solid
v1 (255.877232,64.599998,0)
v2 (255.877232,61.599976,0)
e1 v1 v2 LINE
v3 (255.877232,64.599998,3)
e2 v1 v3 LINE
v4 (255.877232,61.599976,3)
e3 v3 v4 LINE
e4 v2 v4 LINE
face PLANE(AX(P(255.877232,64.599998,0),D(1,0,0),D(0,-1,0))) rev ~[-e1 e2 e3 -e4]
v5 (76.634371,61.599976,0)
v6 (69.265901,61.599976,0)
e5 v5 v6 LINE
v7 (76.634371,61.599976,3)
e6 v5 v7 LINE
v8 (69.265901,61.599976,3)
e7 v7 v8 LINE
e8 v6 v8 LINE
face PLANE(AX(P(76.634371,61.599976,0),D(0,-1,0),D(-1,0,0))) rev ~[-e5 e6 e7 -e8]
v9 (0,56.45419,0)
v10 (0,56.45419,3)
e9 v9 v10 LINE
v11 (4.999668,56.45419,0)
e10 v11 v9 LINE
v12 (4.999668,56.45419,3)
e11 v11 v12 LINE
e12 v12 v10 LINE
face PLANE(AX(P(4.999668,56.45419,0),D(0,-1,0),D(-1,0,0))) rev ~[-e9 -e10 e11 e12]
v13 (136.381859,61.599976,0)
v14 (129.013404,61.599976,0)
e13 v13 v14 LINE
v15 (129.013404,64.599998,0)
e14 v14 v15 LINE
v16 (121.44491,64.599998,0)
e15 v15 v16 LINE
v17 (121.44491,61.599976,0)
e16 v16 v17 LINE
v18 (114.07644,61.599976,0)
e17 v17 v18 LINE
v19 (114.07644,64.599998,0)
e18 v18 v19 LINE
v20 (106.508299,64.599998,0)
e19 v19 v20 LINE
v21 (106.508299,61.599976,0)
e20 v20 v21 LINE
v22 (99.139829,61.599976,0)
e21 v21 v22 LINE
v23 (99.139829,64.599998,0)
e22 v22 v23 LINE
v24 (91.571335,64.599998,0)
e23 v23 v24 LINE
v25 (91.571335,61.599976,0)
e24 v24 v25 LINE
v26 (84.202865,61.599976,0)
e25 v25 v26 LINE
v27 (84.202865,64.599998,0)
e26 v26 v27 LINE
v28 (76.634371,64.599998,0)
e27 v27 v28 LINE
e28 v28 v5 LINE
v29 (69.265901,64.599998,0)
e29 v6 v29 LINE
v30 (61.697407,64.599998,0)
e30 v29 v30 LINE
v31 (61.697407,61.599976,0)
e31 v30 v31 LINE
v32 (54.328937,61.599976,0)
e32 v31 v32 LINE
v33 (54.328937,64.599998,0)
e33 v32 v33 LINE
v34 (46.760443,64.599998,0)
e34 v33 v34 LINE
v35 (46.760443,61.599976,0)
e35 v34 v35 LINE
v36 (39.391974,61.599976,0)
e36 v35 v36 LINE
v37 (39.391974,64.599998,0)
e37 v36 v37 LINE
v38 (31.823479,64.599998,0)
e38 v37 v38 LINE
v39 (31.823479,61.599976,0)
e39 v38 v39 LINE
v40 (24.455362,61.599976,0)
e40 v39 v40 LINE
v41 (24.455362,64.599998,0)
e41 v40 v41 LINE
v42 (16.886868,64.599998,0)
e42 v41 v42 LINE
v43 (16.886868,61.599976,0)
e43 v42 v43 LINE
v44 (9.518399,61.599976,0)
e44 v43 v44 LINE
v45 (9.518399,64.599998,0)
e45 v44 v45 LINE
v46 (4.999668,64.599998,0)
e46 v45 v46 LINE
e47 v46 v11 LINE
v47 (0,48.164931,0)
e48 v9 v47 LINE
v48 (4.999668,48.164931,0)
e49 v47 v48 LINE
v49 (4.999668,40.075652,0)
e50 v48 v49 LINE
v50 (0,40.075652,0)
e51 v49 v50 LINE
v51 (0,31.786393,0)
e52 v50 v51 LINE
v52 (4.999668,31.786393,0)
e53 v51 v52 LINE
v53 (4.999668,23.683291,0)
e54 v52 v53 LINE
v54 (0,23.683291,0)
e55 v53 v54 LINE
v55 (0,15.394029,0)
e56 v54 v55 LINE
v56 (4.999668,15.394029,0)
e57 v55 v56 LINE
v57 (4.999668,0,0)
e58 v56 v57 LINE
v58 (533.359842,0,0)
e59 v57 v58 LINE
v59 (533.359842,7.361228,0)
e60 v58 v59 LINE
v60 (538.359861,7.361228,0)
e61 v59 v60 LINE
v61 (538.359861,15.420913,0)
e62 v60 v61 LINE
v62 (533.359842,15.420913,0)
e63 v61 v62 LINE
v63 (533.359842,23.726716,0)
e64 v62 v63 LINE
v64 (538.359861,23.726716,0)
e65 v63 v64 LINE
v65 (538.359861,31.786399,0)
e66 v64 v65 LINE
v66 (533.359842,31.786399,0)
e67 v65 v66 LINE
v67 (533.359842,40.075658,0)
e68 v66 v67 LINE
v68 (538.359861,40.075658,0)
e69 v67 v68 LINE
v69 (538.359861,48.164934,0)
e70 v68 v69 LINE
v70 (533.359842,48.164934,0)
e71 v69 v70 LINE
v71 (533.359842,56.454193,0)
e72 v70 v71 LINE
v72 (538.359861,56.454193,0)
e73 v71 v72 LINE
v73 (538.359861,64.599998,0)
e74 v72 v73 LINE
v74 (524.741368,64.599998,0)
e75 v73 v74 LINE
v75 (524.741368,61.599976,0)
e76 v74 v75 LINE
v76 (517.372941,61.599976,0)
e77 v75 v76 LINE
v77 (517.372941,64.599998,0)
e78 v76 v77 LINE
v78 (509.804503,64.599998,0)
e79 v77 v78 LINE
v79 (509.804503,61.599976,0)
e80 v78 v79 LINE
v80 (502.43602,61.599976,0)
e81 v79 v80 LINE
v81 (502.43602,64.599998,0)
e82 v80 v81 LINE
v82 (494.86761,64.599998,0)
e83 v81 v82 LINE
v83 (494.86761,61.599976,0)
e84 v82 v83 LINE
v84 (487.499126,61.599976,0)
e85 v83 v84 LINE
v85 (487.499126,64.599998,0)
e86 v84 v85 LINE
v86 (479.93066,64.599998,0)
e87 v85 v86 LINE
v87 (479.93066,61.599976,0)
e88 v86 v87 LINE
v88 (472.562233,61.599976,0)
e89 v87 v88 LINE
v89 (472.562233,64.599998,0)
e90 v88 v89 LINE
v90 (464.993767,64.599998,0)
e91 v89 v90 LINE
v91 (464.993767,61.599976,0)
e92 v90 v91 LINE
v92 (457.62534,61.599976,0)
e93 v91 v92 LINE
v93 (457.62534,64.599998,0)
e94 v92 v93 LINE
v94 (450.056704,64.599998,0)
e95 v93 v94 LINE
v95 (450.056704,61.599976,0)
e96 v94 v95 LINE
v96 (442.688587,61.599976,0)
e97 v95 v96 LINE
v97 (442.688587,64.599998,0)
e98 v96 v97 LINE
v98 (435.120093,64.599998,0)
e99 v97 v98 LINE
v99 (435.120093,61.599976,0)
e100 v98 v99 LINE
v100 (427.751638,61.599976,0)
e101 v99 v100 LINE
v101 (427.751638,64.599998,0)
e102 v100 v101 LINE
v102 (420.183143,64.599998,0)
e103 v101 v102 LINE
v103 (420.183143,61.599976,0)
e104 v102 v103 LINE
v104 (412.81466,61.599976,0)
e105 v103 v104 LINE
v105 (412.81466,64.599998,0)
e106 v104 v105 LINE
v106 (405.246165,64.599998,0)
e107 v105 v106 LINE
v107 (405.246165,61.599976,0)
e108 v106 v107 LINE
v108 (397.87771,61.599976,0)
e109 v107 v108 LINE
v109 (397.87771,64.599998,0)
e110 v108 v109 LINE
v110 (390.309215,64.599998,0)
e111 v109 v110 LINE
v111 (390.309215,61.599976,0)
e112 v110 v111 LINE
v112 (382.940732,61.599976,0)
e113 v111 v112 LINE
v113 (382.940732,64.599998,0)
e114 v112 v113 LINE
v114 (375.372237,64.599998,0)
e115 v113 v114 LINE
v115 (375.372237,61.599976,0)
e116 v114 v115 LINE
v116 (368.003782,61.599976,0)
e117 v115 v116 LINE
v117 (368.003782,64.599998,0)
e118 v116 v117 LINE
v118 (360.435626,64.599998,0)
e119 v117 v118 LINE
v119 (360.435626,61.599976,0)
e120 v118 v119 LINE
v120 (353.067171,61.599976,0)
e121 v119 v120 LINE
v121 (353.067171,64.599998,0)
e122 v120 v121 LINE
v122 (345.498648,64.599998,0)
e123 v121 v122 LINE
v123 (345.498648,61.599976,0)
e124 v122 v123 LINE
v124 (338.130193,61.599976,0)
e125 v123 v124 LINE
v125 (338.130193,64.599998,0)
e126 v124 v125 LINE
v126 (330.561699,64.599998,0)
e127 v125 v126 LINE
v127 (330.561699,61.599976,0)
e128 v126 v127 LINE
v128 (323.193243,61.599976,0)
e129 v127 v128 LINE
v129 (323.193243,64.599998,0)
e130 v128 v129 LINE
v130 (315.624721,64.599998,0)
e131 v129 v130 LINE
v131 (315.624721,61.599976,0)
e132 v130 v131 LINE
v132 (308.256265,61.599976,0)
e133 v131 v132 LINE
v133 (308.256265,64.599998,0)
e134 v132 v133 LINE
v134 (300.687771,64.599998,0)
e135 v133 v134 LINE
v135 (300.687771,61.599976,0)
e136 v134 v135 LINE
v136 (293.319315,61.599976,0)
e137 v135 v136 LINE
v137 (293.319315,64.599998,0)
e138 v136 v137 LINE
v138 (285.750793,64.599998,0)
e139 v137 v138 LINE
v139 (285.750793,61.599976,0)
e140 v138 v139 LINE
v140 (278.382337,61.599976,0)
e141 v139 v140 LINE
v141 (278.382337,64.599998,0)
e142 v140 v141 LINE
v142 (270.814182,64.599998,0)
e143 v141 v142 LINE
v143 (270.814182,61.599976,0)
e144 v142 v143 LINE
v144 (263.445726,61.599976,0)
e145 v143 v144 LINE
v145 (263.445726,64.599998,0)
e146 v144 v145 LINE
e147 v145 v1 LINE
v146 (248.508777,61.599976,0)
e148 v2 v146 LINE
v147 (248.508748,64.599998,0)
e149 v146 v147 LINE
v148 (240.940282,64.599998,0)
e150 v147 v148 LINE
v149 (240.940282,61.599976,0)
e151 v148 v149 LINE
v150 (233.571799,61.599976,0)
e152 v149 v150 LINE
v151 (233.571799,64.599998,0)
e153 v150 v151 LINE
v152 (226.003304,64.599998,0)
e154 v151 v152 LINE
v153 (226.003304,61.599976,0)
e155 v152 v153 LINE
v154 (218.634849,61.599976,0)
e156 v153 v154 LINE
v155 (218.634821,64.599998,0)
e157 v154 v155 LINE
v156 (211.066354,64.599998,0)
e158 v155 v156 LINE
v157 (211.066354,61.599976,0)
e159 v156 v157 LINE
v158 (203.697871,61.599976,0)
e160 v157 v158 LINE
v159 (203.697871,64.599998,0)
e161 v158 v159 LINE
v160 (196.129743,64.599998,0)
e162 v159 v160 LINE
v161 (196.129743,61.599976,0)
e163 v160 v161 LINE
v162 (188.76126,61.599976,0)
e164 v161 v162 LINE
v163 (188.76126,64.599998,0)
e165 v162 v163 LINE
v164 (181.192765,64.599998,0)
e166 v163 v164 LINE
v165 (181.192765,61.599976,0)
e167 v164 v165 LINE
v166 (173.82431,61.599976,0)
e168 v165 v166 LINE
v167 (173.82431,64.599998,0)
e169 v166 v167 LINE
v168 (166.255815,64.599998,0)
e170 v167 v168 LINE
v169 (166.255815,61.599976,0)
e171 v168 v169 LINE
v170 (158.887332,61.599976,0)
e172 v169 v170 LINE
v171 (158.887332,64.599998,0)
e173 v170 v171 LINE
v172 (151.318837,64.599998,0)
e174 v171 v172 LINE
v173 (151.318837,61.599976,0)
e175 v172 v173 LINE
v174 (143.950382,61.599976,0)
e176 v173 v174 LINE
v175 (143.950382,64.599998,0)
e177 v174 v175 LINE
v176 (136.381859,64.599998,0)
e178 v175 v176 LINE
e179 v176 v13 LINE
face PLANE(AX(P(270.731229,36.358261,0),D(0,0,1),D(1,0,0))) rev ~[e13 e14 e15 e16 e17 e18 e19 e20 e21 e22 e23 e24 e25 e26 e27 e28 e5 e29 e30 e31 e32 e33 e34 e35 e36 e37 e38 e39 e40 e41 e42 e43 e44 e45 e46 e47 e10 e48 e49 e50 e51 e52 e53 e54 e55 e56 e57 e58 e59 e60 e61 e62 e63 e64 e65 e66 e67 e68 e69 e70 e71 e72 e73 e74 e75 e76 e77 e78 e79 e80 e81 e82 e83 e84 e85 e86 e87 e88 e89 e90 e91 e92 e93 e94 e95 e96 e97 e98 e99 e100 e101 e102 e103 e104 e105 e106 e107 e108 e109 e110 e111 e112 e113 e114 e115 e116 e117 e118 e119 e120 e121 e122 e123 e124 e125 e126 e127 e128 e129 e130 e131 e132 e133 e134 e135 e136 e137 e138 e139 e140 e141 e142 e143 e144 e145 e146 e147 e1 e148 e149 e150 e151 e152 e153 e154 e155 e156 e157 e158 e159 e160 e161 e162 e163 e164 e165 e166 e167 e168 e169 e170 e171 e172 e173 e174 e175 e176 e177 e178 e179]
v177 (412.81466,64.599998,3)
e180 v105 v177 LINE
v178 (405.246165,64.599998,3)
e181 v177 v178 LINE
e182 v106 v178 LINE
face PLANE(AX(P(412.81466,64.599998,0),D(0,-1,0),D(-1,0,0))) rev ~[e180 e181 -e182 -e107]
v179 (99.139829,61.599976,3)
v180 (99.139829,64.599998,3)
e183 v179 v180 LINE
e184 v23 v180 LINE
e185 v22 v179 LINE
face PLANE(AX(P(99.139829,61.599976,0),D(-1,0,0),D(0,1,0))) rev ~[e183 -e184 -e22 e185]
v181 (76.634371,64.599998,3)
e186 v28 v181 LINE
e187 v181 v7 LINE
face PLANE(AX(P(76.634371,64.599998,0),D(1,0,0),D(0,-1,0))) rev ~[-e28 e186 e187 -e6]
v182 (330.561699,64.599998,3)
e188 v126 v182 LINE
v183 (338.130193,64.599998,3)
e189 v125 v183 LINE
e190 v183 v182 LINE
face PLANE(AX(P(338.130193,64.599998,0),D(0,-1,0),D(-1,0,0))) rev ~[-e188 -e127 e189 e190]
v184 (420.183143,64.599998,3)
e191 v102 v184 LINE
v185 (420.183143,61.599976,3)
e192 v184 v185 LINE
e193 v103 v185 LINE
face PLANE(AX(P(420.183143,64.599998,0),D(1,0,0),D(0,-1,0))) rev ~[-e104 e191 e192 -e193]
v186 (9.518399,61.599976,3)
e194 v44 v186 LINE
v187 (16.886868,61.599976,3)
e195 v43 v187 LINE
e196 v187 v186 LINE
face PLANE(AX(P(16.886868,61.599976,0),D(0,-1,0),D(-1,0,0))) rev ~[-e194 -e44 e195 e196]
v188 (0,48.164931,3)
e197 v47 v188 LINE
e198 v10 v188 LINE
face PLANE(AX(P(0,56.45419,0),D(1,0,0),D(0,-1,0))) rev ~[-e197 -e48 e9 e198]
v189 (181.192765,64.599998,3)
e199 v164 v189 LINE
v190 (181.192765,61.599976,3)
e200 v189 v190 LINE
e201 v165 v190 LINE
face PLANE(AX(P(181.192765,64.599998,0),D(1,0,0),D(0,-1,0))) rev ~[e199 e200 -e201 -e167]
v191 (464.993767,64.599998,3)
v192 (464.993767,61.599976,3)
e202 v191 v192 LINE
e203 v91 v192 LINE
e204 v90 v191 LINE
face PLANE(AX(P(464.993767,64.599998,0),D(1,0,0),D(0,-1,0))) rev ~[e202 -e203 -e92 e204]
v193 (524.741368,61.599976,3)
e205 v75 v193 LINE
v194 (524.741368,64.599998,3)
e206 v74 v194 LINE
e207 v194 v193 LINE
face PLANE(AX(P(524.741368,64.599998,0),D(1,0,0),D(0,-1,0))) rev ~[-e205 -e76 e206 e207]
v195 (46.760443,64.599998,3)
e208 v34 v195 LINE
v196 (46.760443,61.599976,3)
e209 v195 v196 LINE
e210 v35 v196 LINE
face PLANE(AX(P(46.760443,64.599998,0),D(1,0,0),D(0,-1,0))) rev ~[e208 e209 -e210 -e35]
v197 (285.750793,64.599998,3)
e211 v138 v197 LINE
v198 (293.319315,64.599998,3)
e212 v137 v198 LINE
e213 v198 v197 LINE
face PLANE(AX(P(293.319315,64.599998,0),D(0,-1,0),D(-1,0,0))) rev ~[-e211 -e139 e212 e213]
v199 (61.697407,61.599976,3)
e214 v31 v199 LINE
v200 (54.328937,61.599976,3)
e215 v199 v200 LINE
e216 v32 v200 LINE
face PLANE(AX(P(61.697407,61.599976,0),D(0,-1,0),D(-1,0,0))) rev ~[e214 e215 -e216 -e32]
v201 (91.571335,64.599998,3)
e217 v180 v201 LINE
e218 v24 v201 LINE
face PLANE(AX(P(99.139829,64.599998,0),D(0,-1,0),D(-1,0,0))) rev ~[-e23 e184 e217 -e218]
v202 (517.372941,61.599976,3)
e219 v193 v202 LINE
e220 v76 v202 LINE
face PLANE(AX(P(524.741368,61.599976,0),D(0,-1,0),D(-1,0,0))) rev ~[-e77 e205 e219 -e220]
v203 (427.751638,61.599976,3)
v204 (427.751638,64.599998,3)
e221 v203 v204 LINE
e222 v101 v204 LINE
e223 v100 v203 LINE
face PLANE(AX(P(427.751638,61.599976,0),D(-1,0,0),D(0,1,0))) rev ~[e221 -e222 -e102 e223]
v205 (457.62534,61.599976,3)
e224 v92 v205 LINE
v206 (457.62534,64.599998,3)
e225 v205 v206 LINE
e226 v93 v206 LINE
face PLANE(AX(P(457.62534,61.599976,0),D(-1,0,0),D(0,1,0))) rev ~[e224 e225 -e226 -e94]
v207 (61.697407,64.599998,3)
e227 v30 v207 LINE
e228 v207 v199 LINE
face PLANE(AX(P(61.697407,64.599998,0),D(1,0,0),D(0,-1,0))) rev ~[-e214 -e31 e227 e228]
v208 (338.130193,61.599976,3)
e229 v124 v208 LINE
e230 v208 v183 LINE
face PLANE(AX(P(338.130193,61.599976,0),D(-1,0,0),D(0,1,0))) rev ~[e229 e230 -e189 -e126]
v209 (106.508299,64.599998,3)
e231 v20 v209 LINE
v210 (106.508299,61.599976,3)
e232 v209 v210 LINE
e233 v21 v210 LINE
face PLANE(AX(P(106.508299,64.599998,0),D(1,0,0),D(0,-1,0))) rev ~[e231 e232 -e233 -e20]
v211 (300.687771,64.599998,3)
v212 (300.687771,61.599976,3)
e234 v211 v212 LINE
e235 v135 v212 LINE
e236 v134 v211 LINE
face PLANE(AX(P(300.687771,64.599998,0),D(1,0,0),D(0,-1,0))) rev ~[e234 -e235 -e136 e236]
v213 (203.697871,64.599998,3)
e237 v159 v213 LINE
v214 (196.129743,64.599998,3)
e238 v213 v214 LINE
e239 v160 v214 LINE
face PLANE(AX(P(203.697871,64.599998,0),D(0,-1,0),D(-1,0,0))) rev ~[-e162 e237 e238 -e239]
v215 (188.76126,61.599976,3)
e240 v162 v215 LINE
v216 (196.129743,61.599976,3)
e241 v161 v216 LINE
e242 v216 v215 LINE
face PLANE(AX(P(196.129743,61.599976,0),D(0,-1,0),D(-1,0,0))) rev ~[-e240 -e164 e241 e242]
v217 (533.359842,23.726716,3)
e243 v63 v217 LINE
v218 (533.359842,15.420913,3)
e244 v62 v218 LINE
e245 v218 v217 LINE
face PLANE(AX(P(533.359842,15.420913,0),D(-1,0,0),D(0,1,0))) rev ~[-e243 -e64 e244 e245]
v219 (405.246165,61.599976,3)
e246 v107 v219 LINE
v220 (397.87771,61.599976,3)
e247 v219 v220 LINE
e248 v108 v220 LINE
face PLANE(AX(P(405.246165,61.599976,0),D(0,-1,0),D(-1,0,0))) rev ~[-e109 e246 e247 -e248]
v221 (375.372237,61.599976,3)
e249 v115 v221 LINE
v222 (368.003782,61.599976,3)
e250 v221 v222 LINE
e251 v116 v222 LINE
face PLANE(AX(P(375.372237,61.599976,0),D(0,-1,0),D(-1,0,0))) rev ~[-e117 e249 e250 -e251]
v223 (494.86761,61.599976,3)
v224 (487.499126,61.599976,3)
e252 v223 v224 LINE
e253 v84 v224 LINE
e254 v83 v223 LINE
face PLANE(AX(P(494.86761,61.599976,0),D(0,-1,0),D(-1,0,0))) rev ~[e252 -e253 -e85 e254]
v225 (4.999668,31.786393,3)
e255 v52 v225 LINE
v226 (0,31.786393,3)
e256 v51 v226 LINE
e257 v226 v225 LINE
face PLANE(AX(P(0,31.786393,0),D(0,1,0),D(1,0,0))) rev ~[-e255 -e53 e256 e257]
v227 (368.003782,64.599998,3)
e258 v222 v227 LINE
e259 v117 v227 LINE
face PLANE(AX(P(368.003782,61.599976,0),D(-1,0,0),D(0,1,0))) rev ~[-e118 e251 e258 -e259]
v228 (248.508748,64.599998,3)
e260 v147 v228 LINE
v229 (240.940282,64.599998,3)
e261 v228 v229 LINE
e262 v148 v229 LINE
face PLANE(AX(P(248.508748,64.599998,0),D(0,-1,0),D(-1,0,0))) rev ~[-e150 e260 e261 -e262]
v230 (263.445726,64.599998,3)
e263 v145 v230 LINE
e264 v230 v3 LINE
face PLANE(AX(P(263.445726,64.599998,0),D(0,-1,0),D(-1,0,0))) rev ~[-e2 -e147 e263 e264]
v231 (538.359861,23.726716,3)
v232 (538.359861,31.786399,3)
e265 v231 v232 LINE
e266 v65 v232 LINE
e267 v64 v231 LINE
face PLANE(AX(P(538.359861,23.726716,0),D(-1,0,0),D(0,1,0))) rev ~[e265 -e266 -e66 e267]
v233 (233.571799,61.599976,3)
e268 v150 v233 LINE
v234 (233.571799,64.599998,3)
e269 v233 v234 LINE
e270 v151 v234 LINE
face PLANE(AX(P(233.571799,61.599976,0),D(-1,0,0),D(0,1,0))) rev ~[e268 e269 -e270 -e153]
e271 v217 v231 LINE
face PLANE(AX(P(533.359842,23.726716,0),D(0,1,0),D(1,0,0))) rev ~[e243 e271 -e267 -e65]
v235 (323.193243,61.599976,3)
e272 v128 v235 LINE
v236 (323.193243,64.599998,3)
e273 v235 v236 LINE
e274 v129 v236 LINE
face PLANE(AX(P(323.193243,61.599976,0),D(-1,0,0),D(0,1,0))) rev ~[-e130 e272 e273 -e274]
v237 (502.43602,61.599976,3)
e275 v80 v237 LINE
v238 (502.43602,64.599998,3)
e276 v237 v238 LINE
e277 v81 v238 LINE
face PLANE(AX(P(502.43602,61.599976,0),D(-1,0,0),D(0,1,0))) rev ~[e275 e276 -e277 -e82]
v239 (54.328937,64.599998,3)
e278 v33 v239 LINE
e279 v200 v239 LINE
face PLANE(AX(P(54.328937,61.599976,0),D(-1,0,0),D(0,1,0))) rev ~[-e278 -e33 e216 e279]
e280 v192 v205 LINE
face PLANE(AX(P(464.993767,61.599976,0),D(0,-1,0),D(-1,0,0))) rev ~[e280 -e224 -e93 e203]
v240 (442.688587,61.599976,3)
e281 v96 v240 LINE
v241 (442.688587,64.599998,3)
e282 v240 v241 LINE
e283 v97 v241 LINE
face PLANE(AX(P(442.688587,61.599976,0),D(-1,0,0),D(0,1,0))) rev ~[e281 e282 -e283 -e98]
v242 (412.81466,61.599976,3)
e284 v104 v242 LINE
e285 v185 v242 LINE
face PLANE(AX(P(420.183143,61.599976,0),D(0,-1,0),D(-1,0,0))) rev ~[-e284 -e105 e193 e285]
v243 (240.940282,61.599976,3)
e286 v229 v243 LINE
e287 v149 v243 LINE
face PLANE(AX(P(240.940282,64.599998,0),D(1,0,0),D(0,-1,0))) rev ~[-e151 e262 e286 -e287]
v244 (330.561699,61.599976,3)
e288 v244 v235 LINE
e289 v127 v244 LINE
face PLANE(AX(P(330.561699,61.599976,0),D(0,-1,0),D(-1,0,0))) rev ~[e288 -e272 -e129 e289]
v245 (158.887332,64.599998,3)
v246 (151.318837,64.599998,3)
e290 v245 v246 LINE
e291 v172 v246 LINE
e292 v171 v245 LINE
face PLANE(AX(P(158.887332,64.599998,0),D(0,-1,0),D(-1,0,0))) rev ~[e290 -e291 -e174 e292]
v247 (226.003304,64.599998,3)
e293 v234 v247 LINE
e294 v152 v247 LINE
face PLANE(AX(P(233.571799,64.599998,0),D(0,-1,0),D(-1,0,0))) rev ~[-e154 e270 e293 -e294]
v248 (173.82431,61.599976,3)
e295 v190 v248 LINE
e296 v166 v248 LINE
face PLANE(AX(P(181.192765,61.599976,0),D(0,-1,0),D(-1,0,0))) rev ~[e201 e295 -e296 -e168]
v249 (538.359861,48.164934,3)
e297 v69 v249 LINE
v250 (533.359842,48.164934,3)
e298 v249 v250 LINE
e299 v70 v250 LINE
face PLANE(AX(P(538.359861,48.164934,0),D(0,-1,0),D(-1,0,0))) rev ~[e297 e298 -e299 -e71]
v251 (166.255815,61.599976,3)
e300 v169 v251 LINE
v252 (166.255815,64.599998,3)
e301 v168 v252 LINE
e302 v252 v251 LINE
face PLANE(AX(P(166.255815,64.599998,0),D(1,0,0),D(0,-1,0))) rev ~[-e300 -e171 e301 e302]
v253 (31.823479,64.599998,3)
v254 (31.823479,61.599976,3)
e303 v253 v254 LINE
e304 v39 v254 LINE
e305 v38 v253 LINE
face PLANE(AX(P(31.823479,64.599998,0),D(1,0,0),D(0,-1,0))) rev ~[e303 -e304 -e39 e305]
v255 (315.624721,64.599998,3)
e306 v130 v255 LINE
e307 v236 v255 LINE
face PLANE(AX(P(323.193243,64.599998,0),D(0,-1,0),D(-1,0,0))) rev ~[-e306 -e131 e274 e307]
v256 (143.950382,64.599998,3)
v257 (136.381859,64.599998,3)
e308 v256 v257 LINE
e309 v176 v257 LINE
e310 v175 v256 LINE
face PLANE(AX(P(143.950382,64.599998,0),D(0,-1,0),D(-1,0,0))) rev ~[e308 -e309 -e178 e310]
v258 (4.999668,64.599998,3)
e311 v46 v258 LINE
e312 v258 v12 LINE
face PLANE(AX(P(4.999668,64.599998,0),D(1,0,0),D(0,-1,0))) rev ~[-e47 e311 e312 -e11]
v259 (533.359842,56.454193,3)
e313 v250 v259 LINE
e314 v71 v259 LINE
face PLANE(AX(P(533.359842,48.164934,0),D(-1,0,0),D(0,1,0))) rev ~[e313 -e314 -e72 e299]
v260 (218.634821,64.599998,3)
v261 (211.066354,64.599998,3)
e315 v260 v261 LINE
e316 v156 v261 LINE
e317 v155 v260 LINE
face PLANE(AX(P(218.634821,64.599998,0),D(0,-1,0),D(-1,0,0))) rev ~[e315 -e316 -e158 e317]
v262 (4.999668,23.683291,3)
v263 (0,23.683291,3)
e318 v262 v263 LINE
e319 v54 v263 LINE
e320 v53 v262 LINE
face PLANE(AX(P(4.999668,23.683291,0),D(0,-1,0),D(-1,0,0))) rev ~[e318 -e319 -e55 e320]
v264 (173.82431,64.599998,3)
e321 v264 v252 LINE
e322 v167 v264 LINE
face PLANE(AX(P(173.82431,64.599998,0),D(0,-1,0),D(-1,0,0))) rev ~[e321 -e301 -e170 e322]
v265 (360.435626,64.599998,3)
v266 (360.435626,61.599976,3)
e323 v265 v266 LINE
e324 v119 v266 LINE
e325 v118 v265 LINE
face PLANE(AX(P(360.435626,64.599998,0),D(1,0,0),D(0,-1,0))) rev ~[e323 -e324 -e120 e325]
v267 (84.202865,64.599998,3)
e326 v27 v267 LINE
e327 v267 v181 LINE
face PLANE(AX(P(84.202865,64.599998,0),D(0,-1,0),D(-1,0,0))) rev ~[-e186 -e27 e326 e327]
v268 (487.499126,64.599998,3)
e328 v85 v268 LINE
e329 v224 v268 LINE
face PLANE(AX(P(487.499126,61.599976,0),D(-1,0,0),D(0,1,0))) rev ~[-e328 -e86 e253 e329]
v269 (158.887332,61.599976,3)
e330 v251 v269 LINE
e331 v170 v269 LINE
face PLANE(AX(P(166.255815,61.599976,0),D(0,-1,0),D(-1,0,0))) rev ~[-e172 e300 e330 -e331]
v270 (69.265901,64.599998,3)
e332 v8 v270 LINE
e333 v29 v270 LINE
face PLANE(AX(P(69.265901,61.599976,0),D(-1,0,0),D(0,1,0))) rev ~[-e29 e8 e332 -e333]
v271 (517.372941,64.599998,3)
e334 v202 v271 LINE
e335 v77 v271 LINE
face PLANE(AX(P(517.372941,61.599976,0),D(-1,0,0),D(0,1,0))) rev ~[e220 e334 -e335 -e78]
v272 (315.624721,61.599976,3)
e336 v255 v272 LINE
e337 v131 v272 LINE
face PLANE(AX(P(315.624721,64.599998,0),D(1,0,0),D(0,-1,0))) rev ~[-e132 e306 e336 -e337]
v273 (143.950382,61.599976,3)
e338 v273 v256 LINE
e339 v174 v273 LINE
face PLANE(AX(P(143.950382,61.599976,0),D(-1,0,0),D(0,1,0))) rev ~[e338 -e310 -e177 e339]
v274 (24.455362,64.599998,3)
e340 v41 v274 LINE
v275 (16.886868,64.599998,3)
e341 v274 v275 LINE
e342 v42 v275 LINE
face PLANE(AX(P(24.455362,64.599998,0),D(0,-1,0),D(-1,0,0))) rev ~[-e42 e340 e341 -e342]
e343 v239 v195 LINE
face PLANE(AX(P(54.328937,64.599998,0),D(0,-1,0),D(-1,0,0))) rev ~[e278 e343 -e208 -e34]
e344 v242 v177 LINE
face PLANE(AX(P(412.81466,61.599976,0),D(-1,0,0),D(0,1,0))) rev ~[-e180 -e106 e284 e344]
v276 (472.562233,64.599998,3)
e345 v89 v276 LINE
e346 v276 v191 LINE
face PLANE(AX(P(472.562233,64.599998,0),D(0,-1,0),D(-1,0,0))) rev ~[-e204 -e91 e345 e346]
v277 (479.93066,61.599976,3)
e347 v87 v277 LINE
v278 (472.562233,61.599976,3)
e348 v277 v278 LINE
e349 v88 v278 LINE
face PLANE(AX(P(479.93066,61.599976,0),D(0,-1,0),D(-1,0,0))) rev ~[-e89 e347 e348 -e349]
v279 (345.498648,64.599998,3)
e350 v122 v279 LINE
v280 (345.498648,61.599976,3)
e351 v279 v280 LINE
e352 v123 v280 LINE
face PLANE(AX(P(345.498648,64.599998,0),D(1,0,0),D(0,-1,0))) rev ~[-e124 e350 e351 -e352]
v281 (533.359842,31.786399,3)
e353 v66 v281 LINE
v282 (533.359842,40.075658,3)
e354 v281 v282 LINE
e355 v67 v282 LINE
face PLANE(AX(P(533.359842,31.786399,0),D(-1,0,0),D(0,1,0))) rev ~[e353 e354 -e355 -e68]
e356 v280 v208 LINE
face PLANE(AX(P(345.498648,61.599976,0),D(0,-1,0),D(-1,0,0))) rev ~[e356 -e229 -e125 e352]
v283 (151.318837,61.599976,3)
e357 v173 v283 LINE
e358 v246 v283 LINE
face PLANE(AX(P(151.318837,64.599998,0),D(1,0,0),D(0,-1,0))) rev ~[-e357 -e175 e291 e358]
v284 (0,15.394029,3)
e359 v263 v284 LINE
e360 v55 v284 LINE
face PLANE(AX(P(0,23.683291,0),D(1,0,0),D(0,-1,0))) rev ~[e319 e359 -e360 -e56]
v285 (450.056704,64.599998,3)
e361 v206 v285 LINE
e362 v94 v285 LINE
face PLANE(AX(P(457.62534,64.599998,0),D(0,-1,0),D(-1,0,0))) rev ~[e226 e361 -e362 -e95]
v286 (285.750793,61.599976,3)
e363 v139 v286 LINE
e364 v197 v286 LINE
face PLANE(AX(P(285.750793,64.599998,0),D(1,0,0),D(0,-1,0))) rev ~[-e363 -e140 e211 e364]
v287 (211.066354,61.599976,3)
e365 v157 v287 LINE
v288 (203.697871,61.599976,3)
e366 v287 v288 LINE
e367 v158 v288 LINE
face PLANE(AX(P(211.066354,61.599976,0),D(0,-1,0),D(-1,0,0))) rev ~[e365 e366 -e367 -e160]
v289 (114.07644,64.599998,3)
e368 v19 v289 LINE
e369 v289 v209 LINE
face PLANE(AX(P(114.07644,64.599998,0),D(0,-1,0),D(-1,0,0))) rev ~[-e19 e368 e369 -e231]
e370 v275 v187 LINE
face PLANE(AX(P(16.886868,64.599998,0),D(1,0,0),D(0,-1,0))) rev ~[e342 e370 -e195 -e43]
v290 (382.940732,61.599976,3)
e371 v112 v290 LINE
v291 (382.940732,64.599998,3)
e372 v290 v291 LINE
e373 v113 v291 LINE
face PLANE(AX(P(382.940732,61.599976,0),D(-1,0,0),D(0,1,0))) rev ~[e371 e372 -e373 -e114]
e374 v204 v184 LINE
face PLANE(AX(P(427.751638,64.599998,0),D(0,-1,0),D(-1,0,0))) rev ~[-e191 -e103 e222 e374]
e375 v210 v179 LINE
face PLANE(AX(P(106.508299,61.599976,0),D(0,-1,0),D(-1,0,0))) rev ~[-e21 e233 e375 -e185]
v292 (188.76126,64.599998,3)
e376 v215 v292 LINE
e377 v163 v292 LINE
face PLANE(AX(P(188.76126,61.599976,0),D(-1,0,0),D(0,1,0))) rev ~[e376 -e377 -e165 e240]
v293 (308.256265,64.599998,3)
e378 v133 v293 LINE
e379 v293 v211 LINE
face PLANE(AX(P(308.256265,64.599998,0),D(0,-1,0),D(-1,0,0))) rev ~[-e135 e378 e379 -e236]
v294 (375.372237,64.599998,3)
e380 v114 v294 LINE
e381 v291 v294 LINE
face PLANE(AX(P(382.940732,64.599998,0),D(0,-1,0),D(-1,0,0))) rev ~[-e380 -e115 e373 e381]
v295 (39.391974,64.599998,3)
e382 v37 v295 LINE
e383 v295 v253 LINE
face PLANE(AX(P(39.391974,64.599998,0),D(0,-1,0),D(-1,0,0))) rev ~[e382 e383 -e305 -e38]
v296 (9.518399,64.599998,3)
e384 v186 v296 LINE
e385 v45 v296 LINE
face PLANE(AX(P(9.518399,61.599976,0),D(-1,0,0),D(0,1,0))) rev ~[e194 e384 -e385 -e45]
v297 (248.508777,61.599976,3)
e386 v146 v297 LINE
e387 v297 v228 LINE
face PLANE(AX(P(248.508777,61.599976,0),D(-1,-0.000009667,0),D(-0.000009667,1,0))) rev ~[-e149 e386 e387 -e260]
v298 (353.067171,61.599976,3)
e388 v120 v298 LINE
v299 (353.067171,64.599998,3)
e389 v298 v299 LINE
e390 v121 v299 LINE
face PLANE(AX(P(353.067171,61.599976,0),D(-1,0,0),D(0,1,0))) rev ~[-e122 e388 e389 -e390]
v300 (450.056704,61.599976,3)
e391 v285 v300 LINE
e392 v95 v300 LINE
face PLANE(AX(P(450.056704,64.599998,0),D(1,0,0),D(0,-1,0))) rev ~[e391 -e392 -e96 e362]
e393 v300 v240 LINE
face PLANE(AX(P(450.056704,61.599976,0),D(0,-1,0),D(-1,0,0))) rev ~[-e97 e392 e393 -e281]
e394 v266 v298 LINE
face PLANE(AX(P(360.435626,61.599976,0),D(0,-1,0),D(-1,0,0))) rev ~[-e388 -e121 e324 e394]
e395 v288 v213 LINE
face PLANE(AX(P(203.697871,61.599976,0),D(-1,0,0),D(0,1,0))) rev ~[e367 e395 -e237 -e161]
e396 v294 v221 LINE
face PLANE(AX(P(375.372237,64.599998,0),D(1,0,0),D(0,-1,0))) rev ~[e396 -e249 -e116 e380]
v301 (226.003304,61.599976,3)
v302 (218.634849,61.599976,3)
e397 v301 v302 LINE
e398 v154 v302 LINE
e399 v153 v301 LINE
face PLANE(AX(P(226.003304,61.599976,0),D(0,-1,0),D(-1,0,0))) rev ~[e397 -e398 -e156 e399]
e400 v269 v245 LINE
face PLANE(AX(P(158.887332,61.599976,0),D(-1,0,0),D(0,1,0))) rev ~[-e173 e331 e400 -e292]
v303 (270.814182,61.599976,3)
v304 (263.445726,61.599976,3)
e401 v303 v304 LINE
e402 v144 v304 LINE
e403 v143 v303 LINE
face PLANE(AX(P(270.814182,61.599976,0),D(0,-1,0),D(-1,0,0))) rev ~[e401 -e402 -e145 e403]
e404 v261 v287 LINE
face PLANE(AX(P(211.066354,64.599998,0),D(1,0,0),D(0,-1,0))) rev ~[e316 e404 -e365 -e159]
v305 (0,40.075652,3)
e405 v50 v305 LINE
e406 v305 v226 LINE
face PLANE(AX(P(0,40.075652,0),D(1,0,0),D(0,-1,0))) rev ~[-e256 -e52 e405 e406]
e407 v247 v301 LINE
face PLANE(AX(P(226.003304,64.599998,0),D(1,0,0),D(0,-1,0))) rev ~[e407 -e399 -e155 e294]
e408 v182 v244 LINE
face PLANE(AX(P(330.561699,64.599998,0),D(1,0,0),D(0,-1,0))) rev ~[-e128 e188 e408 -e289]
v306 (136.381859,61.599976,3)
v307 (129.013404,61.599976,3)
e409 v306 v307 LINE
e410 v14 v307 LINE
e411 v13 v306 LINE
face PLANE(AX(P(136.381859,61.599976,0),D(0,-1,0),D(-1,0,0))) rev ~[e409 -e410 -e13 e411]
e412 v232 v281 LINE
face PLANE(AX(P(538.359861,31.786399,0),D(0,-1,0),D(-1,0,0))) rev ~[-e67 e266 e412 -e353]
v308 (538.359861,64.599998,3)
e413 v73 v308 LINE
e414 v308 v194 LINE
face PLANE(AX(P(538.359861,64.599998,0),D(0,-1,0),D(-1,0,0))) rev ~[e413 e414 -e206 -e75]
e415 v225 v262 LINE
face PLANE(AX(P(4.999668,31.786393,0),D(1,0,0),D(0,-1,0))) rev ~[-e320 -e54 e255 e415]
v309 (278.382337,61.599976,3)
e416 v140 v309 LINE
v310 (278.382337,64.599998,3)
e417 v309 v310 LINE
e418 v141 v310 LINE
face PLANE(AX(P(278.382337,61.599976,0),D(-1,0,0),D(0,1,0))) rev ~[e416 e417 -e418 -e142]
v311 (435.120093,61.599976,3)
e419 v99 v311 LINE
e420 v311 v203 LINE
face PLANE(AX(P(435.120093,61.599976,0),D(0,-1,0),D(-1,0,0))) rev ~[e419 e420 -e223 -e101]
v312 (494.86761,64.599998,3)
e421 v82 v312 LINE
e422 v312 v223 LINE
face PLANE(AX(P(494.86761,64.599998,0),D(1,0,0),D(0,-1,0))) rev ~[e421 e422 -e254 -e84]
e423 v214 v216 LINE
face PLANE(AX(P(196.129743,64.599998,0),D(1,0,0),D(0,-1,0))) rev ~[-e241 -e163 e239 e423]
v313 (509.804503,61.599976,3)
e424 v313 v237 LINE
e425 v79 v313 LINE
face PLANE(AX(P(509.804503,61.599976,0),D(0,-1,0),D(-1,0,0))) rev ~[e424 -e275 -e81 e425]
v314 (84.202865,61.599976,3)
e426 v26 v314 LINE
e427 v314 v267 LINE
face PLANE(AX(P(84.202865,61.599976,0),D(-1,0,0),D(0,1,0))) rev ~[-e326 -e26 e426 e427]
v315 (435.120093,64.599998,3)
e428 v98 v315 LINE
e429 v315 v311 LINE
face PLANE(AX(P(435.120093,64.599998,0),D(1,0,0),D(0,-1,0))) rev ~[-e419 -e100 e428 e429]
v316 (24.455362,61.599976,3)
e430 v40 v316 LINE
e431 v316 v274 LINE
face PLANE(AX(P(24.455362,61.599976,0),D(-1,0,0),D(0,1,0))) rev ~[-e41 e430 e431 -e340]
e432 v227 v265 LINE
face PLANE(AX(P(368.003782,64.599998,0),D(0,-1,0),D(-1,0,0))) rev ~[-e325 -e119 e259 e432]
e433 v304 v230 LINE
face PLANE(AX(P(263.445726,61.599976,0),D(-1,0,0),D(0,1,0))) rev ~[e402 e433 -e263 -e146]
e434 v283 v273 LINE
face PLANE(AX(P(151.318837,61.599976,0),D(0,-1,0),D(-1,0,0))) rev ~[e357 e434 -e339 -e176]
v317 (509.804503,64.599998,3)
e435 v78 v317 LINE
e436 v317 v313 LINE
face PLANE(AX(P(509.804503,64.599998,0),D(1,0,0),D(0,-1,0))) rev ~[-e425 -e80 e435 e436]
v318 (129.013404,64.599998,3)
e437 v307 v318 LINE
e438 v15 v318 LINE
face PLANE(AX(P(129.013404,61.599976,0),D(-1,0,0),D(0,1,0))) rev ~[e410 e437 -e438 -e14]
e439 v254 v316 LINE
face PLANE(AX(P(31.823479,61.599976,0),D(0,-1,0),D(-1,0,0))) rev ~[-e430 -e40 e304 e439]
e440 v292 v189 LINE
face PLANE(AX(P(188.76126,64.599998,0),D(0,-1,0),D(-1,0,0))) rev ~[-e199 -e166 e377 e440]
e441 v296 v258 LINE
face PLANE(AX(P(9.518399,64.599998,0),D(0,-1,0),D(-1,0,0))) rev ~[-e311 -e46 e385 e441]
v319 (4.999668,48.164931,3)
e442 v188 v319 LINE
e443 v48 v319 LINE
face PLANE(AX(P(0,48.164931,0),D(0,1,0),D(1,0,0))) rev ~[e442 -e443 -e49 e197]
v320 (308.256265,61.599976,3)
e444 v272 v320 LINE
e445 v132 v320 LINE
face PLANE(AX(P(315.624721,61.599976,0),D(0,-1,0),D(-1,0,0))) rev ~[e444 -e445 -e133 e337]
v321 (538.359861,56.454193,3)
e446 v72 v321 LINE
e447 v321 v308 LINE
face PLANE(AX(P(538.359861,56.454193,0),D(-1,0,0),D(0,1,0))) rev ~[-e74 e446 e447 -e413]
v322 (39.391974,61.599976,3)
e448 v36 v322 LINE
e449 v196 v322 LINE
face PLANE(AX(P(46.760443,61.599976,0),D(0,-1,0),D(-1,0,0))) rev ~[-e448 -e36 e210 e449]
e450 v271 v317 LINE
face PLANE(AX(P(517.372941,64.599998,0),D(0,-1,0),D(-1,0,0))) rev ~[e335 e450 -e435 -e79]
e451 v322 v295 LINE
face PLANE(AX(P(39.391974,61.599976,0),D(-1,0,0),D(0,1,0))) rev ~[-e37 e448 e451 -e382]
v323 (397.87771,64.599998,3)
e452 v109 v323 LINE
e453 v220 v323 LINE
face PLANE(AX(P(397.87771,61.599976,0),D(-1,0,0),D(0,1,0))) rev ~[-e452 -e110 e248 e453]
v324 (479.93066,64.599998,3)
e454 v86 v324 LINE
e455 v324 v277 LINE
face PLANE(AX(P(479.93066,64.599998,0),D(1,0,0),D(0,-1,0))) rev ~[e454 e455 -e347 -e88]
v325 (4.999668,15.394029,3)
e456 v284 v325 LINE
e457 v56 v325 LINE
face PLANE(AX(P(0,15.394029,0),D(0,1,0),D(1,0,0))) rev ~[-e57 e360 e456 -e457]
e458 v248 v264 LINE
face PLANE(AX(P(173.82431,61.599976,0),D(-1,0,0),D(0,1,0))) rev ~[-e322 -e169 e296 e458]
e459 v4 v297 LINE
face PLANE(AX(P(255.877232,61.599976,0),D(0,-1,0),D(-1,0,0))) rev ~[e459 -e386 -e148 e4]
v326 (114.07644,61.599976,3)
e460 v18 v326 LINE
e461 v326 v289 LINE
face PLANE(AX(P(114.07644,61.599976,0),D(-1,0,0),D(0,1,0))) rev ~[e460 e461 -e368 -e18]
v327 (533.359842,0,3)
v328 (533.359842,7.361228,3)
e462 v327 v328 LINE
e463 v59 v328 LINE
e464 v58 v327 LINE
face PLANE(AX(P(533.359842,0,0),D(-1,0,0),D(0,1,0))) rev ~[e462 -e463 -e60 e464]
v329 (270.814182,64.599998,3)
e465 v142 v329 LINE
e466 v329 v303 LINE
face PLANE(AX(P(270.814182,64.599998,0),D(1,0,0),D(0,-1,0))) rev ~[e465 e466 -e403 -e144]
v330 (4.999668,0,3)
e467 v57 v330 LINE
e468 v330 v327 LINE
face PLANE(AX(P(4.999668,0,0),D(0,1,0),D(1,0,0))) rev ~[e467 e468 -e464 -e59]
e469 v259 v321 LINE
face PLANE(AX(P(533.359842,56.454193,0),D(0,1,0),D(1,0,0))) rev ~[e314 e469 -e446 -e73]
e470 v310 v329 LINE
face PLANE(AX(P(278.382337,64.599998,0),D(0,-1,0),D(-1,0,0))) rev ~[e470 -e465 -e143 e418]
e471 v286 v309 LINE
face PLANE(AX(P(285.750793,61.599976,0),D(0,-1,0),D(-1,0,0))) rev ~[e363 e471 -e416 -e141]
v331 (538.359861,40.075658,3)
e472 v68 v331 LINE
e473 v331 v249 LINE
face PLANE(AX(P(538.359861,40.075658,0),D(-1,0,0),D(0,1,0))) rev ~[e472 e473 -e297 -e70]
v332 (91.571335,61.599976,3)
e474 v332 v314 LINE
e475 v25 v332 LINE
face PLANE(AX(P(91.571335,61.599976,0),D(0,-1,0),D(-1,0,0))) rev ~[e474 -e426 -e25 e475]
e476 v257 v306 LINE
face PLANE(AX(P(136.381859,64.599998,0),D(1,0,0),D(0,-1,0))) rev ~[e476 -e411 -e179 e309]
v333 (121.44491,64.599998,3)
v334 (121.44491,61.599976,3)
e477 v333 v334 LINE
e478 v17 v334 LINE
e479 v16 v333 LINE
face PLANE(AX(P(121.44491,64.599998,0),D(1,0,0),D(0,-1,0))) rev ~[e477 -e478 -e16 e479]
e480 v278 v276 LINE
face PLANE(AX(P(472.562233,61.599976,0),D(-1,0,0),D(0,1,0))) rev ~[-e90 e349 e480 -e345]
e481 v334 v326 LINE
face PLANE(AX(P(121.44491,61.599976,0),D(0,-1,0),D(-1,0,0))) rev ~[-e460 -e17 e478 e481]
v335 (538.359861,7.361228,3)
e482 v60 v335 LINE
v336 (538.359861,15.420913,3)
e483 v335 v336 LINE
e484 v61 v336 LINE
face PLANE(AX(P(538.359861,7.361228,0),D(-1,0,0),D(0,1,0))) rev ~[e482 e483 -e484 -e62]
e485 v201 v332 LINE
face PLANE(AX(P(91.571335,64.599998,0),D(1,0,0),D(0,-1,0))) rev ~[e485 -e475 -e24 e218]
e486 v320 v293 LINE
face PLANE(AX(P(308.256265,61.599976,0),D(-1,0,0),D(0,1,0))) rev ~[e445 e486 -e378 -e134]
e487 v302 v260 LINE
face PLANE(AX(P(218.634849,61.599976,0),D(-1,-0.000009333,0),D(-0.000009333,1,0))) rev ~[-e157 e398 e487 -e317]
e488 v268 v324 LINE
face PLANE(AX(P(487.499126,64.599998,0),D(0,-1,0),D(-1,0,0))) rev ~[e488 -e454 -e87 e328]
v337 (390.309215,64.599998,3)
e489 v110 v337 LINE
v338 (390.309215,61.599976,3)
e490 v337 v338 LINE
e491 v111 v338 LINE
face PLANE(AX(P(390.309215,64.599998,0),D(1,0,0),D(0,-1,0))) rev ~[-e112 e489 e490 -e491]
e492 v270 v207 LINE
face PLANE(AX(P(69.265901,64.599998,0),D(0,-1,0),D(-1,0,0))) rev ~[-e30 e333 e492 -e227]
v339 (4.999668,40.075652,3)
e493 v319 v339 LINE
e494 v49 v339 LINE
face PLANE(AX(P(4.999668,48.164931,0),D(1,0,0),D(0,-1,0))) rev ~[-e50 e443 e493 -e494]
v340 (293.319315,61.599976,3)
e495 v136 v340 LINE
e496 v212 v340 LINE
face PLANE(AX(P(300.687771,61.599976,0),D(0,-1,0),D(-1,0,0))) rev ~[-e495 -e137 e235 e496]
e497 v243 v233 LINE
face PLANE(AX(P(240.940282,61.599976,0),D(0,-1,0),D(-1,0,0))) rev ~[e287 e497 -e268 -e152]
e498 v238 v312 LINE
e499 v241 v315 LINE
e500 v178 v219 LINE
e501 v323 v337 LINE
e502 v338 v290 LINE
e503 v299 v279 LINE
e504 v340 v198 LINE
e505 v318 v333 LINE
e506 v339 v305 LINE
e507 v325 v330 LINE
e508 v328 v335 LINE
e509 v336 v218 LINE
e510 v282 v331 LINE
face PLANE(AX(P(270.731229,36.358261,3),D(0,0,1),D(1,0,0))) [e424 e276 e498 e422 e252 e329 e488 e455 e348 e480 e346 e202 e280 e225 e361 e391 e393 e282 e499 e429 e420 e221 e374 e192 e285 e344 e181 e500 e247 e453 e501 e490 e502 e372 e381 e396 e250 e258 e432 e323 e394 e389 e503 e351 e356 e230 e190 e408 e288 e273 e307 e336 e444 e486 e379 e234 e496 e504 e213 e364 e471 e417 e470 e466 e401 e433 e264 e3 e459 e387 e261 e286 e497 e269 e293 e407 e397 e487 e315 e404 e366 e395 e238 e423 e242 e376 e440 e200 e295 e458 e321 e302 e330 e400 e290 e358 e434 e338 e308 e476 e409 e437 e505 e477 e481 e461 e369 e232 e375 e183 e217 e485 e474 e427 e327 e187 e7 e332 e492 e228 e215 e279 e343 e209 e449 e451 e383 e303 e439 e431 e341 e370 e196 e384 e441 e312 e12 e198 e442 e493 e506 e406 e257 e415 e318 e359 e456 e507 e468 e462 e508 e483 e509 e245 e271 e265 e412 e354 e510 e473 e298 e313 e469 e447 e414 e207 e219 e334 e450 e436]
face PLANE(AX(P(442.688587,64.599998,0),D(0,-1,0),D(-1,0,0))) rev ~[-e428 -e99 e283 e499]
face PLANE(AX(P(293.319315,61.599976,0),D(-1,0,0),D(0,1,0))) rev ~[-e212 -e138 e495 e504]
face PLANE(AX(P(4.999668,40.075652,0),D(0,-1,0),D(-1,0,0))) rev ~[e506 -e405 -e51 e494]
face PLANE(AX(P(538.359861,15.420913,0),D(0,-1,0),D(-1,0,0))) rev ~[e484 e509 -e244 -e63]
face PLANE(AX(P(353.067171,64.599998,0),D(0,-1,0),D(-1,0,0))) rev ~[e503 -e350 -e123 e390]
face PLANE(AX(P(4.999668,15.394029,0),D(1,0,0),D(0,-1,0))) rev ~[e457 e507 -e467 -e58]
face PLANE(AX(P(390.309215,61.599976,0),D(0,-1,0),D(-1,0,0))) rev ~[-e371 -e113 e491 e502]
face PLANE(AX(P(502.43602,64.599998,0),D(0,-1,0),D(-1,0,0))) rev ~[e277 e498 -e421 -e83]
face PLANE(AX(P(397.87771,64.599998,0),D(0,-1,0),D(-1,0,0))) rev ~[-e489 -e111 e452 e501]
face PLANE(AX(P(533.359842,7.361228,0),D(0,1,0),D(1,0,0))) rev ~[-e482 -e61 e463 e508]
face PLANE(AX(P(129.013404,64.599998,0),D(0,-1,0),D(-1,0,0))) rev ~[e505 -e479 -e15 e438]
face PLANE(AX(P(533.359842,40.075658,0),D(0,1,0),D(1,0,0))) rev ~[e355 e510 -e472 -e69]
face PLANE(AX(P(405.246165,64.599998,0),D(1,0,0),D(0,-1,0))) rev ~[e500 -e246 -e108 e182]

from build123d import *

# Parameters (mm, degrees)
BOSS_EXTRUDE1_DEPTH = 3


with BuildPart() as part:
    # Sketch1 → Boss-Extrude1 (new body)
    with BuildSketch(Plane.XY):
        Polygon((4.999668, 15.394029), (4.999668, 0), (533.359842, 0), (533.359842, 7.361228), (538.359861, 7.361228), (538.359861, 15.420913), (533.359842, 15.420913), (533.359842, 23.726716), (538.359861, 23.726716), (538.359861, 31.786399), (533.359842, 31.786399), (533.359842, 40.075658), (538.359861, 40.075658), (538.359861, 48.164934), (533.359842, 48.164934), (533.359842, 56.454193), (538.359861, 56.454193), (538.359861, 64.599998), (524.741368, 64.599998), (524.741368, 61.599976), (517.372941, 61.599976), (517.372941, 64.599998), (509.804503, 64.599998), (509.804503, 61.599976), (502.43602, 61.599976), (502.43602, 64.599998), (494.86761, 64.599998), (494.86761, 61.599976), (487.499126, 61.599976), (487.499126, 64.599998), (479.93066, 64.599998), (479.93066, 61.599976), (472.562233, 61.599976), (472.562233, 64.599998), (464.993767, 64.599998), (464.993767, 61.599976), (457.62534, 61.599976), (457.62534, 64.599998), (450.056704, 64.599998), (450.056704, 61.599976), (442.688587, 61.599976), (442.688587, 64.599998), (435.120093, 64.599998), (435.120093, 61.599976), (427.751638, 61.599976), (427.751638, 64.599998), (420.183143, 64.599998), (420.183143, 61.599976), (412.81466, 61.599976), (412.81466, 64.599998), (405.246165, 64.599998), (405.246165, 61.599976), (397.87771, 61.599976), (397.87771, 64.599998), (390.309215, 64.599998), (390.309215, 61.599976), (382.940732, 61.599976), (382.940732, 64.599998), (375.372237, 64.599998), (375.372237, 61.599976), (368.003782, 61.599976), (368.003782, 64.599998), (360.435626, 64.599998), (360.435626, 61.599976), (353.067171, 61.599976), (353.067171, 64.599998), (345.498648, 64.599998), (345.498648, 61.599976), (338.130193, 61.599976), (338.130193, 64.599998), (330.561699, 64.599998), (330.561699, 61.599976), (323.193243, 61.599976), (323.193243, 64.599998), (315.624721, 64.599998), (315.624721, 61.599976), (308.256265, 61.599976), (308.256265, 64.599998), (300.687771, 64.599998), (300.687771, 61.599976), (293.319315, 61.599976), (293.319315, 64.599998), (285.750793, 64.599998), (285.750793, 61.599976), (278.382337, 61.599976), (278.382337, 64.599998), (270.814182, 64.599998), (270.814182, 61.599976), (263.445726, 61.599976), (263.445726, 64.599998), (255.877232, 64.599998), (255.877232, 61.599976), (248.508777, 61.599976), (248.508748, 64.599998), (240.940282, 64.599998), (240.940282, 61.599976), (233.571799, 61.599976), (233.571799, 64.599998), (226.003304, 64.599998), (226.003304, 61.599976), (218.634849, 61.599976), (218.634821, 64.599998), (211.066354, 64.599998), (211.066354, 61.599976), (203.697871, 61.599976), (203.697871, 64.599998), (196.129743, 64.599998), (196.129743, 61.599976), (188.76126, 61.599976), (188.76126, 64.599998), (181.192765, 64.599998), (181.192765, 61.599976), (173.82431, 61.599976), (173.82431, 64.599998), (166.255815, 64.599998), (166.255815, 61.599976), (158.887332, 61.599976), (158.887332, 64.599998), (151.318837, 64.599998), (151.318837, 61.599976), (143.950382, 61.599976), (143.950382, 64.599998), (136.381859, 64.599998), (136.381859, 61.599976), (129.013404, 61.599976), (129.013404, 64.599998), (121.44491, 64.599998), (121.44491, 61.599976), (114.07644, 61.599976), (114.07644, 64.599998), (106.508299, 64.599998), (106.508299, 61.599976), (99.139829, 61.599976), (99.139829, 64.599998), (91.571335, 64.599998), (91.571335, 61.599976), (84.202865, 61.599976), (84.202865, 64.599998), (76.634371, 64.599998), (76.634371, 61.599976), (69.265901, 61.599976), (69.265901, 64.599998), (61.697407, 64.599998), (61.697407, 61.599976), (54.328937, 61.599976), (54.328937, 64.599998), (46.760443, 64.599998), (46.760443, 61.599976), (39.391974, 61.599976), (39.391974, 64.599998), (31.823479, 64.599998), (31.823479, 61.599976), (24.455362, 61.599976), (24.455362, 64.599998), (16.886868, 64.599998), (16.886868, 61.599976), (9.518399, 61.599976), (9.518399, 64.599998), (4.999668, 64.599998), (4.999668, 56.45419), (0, 56.45419), (0, 48.164931), (4.999668, 48.164931), (4.999668, 40.075652), (0, 40.075652), (0, 31.786393), (4.999668, 31.786393), (4.999668, 23.683291), (0, 23.683291), (0, 15.394029), align=None)
    extrude(amount=BOSS_EXTRUDE1_DEPTH)


solid = part.part
